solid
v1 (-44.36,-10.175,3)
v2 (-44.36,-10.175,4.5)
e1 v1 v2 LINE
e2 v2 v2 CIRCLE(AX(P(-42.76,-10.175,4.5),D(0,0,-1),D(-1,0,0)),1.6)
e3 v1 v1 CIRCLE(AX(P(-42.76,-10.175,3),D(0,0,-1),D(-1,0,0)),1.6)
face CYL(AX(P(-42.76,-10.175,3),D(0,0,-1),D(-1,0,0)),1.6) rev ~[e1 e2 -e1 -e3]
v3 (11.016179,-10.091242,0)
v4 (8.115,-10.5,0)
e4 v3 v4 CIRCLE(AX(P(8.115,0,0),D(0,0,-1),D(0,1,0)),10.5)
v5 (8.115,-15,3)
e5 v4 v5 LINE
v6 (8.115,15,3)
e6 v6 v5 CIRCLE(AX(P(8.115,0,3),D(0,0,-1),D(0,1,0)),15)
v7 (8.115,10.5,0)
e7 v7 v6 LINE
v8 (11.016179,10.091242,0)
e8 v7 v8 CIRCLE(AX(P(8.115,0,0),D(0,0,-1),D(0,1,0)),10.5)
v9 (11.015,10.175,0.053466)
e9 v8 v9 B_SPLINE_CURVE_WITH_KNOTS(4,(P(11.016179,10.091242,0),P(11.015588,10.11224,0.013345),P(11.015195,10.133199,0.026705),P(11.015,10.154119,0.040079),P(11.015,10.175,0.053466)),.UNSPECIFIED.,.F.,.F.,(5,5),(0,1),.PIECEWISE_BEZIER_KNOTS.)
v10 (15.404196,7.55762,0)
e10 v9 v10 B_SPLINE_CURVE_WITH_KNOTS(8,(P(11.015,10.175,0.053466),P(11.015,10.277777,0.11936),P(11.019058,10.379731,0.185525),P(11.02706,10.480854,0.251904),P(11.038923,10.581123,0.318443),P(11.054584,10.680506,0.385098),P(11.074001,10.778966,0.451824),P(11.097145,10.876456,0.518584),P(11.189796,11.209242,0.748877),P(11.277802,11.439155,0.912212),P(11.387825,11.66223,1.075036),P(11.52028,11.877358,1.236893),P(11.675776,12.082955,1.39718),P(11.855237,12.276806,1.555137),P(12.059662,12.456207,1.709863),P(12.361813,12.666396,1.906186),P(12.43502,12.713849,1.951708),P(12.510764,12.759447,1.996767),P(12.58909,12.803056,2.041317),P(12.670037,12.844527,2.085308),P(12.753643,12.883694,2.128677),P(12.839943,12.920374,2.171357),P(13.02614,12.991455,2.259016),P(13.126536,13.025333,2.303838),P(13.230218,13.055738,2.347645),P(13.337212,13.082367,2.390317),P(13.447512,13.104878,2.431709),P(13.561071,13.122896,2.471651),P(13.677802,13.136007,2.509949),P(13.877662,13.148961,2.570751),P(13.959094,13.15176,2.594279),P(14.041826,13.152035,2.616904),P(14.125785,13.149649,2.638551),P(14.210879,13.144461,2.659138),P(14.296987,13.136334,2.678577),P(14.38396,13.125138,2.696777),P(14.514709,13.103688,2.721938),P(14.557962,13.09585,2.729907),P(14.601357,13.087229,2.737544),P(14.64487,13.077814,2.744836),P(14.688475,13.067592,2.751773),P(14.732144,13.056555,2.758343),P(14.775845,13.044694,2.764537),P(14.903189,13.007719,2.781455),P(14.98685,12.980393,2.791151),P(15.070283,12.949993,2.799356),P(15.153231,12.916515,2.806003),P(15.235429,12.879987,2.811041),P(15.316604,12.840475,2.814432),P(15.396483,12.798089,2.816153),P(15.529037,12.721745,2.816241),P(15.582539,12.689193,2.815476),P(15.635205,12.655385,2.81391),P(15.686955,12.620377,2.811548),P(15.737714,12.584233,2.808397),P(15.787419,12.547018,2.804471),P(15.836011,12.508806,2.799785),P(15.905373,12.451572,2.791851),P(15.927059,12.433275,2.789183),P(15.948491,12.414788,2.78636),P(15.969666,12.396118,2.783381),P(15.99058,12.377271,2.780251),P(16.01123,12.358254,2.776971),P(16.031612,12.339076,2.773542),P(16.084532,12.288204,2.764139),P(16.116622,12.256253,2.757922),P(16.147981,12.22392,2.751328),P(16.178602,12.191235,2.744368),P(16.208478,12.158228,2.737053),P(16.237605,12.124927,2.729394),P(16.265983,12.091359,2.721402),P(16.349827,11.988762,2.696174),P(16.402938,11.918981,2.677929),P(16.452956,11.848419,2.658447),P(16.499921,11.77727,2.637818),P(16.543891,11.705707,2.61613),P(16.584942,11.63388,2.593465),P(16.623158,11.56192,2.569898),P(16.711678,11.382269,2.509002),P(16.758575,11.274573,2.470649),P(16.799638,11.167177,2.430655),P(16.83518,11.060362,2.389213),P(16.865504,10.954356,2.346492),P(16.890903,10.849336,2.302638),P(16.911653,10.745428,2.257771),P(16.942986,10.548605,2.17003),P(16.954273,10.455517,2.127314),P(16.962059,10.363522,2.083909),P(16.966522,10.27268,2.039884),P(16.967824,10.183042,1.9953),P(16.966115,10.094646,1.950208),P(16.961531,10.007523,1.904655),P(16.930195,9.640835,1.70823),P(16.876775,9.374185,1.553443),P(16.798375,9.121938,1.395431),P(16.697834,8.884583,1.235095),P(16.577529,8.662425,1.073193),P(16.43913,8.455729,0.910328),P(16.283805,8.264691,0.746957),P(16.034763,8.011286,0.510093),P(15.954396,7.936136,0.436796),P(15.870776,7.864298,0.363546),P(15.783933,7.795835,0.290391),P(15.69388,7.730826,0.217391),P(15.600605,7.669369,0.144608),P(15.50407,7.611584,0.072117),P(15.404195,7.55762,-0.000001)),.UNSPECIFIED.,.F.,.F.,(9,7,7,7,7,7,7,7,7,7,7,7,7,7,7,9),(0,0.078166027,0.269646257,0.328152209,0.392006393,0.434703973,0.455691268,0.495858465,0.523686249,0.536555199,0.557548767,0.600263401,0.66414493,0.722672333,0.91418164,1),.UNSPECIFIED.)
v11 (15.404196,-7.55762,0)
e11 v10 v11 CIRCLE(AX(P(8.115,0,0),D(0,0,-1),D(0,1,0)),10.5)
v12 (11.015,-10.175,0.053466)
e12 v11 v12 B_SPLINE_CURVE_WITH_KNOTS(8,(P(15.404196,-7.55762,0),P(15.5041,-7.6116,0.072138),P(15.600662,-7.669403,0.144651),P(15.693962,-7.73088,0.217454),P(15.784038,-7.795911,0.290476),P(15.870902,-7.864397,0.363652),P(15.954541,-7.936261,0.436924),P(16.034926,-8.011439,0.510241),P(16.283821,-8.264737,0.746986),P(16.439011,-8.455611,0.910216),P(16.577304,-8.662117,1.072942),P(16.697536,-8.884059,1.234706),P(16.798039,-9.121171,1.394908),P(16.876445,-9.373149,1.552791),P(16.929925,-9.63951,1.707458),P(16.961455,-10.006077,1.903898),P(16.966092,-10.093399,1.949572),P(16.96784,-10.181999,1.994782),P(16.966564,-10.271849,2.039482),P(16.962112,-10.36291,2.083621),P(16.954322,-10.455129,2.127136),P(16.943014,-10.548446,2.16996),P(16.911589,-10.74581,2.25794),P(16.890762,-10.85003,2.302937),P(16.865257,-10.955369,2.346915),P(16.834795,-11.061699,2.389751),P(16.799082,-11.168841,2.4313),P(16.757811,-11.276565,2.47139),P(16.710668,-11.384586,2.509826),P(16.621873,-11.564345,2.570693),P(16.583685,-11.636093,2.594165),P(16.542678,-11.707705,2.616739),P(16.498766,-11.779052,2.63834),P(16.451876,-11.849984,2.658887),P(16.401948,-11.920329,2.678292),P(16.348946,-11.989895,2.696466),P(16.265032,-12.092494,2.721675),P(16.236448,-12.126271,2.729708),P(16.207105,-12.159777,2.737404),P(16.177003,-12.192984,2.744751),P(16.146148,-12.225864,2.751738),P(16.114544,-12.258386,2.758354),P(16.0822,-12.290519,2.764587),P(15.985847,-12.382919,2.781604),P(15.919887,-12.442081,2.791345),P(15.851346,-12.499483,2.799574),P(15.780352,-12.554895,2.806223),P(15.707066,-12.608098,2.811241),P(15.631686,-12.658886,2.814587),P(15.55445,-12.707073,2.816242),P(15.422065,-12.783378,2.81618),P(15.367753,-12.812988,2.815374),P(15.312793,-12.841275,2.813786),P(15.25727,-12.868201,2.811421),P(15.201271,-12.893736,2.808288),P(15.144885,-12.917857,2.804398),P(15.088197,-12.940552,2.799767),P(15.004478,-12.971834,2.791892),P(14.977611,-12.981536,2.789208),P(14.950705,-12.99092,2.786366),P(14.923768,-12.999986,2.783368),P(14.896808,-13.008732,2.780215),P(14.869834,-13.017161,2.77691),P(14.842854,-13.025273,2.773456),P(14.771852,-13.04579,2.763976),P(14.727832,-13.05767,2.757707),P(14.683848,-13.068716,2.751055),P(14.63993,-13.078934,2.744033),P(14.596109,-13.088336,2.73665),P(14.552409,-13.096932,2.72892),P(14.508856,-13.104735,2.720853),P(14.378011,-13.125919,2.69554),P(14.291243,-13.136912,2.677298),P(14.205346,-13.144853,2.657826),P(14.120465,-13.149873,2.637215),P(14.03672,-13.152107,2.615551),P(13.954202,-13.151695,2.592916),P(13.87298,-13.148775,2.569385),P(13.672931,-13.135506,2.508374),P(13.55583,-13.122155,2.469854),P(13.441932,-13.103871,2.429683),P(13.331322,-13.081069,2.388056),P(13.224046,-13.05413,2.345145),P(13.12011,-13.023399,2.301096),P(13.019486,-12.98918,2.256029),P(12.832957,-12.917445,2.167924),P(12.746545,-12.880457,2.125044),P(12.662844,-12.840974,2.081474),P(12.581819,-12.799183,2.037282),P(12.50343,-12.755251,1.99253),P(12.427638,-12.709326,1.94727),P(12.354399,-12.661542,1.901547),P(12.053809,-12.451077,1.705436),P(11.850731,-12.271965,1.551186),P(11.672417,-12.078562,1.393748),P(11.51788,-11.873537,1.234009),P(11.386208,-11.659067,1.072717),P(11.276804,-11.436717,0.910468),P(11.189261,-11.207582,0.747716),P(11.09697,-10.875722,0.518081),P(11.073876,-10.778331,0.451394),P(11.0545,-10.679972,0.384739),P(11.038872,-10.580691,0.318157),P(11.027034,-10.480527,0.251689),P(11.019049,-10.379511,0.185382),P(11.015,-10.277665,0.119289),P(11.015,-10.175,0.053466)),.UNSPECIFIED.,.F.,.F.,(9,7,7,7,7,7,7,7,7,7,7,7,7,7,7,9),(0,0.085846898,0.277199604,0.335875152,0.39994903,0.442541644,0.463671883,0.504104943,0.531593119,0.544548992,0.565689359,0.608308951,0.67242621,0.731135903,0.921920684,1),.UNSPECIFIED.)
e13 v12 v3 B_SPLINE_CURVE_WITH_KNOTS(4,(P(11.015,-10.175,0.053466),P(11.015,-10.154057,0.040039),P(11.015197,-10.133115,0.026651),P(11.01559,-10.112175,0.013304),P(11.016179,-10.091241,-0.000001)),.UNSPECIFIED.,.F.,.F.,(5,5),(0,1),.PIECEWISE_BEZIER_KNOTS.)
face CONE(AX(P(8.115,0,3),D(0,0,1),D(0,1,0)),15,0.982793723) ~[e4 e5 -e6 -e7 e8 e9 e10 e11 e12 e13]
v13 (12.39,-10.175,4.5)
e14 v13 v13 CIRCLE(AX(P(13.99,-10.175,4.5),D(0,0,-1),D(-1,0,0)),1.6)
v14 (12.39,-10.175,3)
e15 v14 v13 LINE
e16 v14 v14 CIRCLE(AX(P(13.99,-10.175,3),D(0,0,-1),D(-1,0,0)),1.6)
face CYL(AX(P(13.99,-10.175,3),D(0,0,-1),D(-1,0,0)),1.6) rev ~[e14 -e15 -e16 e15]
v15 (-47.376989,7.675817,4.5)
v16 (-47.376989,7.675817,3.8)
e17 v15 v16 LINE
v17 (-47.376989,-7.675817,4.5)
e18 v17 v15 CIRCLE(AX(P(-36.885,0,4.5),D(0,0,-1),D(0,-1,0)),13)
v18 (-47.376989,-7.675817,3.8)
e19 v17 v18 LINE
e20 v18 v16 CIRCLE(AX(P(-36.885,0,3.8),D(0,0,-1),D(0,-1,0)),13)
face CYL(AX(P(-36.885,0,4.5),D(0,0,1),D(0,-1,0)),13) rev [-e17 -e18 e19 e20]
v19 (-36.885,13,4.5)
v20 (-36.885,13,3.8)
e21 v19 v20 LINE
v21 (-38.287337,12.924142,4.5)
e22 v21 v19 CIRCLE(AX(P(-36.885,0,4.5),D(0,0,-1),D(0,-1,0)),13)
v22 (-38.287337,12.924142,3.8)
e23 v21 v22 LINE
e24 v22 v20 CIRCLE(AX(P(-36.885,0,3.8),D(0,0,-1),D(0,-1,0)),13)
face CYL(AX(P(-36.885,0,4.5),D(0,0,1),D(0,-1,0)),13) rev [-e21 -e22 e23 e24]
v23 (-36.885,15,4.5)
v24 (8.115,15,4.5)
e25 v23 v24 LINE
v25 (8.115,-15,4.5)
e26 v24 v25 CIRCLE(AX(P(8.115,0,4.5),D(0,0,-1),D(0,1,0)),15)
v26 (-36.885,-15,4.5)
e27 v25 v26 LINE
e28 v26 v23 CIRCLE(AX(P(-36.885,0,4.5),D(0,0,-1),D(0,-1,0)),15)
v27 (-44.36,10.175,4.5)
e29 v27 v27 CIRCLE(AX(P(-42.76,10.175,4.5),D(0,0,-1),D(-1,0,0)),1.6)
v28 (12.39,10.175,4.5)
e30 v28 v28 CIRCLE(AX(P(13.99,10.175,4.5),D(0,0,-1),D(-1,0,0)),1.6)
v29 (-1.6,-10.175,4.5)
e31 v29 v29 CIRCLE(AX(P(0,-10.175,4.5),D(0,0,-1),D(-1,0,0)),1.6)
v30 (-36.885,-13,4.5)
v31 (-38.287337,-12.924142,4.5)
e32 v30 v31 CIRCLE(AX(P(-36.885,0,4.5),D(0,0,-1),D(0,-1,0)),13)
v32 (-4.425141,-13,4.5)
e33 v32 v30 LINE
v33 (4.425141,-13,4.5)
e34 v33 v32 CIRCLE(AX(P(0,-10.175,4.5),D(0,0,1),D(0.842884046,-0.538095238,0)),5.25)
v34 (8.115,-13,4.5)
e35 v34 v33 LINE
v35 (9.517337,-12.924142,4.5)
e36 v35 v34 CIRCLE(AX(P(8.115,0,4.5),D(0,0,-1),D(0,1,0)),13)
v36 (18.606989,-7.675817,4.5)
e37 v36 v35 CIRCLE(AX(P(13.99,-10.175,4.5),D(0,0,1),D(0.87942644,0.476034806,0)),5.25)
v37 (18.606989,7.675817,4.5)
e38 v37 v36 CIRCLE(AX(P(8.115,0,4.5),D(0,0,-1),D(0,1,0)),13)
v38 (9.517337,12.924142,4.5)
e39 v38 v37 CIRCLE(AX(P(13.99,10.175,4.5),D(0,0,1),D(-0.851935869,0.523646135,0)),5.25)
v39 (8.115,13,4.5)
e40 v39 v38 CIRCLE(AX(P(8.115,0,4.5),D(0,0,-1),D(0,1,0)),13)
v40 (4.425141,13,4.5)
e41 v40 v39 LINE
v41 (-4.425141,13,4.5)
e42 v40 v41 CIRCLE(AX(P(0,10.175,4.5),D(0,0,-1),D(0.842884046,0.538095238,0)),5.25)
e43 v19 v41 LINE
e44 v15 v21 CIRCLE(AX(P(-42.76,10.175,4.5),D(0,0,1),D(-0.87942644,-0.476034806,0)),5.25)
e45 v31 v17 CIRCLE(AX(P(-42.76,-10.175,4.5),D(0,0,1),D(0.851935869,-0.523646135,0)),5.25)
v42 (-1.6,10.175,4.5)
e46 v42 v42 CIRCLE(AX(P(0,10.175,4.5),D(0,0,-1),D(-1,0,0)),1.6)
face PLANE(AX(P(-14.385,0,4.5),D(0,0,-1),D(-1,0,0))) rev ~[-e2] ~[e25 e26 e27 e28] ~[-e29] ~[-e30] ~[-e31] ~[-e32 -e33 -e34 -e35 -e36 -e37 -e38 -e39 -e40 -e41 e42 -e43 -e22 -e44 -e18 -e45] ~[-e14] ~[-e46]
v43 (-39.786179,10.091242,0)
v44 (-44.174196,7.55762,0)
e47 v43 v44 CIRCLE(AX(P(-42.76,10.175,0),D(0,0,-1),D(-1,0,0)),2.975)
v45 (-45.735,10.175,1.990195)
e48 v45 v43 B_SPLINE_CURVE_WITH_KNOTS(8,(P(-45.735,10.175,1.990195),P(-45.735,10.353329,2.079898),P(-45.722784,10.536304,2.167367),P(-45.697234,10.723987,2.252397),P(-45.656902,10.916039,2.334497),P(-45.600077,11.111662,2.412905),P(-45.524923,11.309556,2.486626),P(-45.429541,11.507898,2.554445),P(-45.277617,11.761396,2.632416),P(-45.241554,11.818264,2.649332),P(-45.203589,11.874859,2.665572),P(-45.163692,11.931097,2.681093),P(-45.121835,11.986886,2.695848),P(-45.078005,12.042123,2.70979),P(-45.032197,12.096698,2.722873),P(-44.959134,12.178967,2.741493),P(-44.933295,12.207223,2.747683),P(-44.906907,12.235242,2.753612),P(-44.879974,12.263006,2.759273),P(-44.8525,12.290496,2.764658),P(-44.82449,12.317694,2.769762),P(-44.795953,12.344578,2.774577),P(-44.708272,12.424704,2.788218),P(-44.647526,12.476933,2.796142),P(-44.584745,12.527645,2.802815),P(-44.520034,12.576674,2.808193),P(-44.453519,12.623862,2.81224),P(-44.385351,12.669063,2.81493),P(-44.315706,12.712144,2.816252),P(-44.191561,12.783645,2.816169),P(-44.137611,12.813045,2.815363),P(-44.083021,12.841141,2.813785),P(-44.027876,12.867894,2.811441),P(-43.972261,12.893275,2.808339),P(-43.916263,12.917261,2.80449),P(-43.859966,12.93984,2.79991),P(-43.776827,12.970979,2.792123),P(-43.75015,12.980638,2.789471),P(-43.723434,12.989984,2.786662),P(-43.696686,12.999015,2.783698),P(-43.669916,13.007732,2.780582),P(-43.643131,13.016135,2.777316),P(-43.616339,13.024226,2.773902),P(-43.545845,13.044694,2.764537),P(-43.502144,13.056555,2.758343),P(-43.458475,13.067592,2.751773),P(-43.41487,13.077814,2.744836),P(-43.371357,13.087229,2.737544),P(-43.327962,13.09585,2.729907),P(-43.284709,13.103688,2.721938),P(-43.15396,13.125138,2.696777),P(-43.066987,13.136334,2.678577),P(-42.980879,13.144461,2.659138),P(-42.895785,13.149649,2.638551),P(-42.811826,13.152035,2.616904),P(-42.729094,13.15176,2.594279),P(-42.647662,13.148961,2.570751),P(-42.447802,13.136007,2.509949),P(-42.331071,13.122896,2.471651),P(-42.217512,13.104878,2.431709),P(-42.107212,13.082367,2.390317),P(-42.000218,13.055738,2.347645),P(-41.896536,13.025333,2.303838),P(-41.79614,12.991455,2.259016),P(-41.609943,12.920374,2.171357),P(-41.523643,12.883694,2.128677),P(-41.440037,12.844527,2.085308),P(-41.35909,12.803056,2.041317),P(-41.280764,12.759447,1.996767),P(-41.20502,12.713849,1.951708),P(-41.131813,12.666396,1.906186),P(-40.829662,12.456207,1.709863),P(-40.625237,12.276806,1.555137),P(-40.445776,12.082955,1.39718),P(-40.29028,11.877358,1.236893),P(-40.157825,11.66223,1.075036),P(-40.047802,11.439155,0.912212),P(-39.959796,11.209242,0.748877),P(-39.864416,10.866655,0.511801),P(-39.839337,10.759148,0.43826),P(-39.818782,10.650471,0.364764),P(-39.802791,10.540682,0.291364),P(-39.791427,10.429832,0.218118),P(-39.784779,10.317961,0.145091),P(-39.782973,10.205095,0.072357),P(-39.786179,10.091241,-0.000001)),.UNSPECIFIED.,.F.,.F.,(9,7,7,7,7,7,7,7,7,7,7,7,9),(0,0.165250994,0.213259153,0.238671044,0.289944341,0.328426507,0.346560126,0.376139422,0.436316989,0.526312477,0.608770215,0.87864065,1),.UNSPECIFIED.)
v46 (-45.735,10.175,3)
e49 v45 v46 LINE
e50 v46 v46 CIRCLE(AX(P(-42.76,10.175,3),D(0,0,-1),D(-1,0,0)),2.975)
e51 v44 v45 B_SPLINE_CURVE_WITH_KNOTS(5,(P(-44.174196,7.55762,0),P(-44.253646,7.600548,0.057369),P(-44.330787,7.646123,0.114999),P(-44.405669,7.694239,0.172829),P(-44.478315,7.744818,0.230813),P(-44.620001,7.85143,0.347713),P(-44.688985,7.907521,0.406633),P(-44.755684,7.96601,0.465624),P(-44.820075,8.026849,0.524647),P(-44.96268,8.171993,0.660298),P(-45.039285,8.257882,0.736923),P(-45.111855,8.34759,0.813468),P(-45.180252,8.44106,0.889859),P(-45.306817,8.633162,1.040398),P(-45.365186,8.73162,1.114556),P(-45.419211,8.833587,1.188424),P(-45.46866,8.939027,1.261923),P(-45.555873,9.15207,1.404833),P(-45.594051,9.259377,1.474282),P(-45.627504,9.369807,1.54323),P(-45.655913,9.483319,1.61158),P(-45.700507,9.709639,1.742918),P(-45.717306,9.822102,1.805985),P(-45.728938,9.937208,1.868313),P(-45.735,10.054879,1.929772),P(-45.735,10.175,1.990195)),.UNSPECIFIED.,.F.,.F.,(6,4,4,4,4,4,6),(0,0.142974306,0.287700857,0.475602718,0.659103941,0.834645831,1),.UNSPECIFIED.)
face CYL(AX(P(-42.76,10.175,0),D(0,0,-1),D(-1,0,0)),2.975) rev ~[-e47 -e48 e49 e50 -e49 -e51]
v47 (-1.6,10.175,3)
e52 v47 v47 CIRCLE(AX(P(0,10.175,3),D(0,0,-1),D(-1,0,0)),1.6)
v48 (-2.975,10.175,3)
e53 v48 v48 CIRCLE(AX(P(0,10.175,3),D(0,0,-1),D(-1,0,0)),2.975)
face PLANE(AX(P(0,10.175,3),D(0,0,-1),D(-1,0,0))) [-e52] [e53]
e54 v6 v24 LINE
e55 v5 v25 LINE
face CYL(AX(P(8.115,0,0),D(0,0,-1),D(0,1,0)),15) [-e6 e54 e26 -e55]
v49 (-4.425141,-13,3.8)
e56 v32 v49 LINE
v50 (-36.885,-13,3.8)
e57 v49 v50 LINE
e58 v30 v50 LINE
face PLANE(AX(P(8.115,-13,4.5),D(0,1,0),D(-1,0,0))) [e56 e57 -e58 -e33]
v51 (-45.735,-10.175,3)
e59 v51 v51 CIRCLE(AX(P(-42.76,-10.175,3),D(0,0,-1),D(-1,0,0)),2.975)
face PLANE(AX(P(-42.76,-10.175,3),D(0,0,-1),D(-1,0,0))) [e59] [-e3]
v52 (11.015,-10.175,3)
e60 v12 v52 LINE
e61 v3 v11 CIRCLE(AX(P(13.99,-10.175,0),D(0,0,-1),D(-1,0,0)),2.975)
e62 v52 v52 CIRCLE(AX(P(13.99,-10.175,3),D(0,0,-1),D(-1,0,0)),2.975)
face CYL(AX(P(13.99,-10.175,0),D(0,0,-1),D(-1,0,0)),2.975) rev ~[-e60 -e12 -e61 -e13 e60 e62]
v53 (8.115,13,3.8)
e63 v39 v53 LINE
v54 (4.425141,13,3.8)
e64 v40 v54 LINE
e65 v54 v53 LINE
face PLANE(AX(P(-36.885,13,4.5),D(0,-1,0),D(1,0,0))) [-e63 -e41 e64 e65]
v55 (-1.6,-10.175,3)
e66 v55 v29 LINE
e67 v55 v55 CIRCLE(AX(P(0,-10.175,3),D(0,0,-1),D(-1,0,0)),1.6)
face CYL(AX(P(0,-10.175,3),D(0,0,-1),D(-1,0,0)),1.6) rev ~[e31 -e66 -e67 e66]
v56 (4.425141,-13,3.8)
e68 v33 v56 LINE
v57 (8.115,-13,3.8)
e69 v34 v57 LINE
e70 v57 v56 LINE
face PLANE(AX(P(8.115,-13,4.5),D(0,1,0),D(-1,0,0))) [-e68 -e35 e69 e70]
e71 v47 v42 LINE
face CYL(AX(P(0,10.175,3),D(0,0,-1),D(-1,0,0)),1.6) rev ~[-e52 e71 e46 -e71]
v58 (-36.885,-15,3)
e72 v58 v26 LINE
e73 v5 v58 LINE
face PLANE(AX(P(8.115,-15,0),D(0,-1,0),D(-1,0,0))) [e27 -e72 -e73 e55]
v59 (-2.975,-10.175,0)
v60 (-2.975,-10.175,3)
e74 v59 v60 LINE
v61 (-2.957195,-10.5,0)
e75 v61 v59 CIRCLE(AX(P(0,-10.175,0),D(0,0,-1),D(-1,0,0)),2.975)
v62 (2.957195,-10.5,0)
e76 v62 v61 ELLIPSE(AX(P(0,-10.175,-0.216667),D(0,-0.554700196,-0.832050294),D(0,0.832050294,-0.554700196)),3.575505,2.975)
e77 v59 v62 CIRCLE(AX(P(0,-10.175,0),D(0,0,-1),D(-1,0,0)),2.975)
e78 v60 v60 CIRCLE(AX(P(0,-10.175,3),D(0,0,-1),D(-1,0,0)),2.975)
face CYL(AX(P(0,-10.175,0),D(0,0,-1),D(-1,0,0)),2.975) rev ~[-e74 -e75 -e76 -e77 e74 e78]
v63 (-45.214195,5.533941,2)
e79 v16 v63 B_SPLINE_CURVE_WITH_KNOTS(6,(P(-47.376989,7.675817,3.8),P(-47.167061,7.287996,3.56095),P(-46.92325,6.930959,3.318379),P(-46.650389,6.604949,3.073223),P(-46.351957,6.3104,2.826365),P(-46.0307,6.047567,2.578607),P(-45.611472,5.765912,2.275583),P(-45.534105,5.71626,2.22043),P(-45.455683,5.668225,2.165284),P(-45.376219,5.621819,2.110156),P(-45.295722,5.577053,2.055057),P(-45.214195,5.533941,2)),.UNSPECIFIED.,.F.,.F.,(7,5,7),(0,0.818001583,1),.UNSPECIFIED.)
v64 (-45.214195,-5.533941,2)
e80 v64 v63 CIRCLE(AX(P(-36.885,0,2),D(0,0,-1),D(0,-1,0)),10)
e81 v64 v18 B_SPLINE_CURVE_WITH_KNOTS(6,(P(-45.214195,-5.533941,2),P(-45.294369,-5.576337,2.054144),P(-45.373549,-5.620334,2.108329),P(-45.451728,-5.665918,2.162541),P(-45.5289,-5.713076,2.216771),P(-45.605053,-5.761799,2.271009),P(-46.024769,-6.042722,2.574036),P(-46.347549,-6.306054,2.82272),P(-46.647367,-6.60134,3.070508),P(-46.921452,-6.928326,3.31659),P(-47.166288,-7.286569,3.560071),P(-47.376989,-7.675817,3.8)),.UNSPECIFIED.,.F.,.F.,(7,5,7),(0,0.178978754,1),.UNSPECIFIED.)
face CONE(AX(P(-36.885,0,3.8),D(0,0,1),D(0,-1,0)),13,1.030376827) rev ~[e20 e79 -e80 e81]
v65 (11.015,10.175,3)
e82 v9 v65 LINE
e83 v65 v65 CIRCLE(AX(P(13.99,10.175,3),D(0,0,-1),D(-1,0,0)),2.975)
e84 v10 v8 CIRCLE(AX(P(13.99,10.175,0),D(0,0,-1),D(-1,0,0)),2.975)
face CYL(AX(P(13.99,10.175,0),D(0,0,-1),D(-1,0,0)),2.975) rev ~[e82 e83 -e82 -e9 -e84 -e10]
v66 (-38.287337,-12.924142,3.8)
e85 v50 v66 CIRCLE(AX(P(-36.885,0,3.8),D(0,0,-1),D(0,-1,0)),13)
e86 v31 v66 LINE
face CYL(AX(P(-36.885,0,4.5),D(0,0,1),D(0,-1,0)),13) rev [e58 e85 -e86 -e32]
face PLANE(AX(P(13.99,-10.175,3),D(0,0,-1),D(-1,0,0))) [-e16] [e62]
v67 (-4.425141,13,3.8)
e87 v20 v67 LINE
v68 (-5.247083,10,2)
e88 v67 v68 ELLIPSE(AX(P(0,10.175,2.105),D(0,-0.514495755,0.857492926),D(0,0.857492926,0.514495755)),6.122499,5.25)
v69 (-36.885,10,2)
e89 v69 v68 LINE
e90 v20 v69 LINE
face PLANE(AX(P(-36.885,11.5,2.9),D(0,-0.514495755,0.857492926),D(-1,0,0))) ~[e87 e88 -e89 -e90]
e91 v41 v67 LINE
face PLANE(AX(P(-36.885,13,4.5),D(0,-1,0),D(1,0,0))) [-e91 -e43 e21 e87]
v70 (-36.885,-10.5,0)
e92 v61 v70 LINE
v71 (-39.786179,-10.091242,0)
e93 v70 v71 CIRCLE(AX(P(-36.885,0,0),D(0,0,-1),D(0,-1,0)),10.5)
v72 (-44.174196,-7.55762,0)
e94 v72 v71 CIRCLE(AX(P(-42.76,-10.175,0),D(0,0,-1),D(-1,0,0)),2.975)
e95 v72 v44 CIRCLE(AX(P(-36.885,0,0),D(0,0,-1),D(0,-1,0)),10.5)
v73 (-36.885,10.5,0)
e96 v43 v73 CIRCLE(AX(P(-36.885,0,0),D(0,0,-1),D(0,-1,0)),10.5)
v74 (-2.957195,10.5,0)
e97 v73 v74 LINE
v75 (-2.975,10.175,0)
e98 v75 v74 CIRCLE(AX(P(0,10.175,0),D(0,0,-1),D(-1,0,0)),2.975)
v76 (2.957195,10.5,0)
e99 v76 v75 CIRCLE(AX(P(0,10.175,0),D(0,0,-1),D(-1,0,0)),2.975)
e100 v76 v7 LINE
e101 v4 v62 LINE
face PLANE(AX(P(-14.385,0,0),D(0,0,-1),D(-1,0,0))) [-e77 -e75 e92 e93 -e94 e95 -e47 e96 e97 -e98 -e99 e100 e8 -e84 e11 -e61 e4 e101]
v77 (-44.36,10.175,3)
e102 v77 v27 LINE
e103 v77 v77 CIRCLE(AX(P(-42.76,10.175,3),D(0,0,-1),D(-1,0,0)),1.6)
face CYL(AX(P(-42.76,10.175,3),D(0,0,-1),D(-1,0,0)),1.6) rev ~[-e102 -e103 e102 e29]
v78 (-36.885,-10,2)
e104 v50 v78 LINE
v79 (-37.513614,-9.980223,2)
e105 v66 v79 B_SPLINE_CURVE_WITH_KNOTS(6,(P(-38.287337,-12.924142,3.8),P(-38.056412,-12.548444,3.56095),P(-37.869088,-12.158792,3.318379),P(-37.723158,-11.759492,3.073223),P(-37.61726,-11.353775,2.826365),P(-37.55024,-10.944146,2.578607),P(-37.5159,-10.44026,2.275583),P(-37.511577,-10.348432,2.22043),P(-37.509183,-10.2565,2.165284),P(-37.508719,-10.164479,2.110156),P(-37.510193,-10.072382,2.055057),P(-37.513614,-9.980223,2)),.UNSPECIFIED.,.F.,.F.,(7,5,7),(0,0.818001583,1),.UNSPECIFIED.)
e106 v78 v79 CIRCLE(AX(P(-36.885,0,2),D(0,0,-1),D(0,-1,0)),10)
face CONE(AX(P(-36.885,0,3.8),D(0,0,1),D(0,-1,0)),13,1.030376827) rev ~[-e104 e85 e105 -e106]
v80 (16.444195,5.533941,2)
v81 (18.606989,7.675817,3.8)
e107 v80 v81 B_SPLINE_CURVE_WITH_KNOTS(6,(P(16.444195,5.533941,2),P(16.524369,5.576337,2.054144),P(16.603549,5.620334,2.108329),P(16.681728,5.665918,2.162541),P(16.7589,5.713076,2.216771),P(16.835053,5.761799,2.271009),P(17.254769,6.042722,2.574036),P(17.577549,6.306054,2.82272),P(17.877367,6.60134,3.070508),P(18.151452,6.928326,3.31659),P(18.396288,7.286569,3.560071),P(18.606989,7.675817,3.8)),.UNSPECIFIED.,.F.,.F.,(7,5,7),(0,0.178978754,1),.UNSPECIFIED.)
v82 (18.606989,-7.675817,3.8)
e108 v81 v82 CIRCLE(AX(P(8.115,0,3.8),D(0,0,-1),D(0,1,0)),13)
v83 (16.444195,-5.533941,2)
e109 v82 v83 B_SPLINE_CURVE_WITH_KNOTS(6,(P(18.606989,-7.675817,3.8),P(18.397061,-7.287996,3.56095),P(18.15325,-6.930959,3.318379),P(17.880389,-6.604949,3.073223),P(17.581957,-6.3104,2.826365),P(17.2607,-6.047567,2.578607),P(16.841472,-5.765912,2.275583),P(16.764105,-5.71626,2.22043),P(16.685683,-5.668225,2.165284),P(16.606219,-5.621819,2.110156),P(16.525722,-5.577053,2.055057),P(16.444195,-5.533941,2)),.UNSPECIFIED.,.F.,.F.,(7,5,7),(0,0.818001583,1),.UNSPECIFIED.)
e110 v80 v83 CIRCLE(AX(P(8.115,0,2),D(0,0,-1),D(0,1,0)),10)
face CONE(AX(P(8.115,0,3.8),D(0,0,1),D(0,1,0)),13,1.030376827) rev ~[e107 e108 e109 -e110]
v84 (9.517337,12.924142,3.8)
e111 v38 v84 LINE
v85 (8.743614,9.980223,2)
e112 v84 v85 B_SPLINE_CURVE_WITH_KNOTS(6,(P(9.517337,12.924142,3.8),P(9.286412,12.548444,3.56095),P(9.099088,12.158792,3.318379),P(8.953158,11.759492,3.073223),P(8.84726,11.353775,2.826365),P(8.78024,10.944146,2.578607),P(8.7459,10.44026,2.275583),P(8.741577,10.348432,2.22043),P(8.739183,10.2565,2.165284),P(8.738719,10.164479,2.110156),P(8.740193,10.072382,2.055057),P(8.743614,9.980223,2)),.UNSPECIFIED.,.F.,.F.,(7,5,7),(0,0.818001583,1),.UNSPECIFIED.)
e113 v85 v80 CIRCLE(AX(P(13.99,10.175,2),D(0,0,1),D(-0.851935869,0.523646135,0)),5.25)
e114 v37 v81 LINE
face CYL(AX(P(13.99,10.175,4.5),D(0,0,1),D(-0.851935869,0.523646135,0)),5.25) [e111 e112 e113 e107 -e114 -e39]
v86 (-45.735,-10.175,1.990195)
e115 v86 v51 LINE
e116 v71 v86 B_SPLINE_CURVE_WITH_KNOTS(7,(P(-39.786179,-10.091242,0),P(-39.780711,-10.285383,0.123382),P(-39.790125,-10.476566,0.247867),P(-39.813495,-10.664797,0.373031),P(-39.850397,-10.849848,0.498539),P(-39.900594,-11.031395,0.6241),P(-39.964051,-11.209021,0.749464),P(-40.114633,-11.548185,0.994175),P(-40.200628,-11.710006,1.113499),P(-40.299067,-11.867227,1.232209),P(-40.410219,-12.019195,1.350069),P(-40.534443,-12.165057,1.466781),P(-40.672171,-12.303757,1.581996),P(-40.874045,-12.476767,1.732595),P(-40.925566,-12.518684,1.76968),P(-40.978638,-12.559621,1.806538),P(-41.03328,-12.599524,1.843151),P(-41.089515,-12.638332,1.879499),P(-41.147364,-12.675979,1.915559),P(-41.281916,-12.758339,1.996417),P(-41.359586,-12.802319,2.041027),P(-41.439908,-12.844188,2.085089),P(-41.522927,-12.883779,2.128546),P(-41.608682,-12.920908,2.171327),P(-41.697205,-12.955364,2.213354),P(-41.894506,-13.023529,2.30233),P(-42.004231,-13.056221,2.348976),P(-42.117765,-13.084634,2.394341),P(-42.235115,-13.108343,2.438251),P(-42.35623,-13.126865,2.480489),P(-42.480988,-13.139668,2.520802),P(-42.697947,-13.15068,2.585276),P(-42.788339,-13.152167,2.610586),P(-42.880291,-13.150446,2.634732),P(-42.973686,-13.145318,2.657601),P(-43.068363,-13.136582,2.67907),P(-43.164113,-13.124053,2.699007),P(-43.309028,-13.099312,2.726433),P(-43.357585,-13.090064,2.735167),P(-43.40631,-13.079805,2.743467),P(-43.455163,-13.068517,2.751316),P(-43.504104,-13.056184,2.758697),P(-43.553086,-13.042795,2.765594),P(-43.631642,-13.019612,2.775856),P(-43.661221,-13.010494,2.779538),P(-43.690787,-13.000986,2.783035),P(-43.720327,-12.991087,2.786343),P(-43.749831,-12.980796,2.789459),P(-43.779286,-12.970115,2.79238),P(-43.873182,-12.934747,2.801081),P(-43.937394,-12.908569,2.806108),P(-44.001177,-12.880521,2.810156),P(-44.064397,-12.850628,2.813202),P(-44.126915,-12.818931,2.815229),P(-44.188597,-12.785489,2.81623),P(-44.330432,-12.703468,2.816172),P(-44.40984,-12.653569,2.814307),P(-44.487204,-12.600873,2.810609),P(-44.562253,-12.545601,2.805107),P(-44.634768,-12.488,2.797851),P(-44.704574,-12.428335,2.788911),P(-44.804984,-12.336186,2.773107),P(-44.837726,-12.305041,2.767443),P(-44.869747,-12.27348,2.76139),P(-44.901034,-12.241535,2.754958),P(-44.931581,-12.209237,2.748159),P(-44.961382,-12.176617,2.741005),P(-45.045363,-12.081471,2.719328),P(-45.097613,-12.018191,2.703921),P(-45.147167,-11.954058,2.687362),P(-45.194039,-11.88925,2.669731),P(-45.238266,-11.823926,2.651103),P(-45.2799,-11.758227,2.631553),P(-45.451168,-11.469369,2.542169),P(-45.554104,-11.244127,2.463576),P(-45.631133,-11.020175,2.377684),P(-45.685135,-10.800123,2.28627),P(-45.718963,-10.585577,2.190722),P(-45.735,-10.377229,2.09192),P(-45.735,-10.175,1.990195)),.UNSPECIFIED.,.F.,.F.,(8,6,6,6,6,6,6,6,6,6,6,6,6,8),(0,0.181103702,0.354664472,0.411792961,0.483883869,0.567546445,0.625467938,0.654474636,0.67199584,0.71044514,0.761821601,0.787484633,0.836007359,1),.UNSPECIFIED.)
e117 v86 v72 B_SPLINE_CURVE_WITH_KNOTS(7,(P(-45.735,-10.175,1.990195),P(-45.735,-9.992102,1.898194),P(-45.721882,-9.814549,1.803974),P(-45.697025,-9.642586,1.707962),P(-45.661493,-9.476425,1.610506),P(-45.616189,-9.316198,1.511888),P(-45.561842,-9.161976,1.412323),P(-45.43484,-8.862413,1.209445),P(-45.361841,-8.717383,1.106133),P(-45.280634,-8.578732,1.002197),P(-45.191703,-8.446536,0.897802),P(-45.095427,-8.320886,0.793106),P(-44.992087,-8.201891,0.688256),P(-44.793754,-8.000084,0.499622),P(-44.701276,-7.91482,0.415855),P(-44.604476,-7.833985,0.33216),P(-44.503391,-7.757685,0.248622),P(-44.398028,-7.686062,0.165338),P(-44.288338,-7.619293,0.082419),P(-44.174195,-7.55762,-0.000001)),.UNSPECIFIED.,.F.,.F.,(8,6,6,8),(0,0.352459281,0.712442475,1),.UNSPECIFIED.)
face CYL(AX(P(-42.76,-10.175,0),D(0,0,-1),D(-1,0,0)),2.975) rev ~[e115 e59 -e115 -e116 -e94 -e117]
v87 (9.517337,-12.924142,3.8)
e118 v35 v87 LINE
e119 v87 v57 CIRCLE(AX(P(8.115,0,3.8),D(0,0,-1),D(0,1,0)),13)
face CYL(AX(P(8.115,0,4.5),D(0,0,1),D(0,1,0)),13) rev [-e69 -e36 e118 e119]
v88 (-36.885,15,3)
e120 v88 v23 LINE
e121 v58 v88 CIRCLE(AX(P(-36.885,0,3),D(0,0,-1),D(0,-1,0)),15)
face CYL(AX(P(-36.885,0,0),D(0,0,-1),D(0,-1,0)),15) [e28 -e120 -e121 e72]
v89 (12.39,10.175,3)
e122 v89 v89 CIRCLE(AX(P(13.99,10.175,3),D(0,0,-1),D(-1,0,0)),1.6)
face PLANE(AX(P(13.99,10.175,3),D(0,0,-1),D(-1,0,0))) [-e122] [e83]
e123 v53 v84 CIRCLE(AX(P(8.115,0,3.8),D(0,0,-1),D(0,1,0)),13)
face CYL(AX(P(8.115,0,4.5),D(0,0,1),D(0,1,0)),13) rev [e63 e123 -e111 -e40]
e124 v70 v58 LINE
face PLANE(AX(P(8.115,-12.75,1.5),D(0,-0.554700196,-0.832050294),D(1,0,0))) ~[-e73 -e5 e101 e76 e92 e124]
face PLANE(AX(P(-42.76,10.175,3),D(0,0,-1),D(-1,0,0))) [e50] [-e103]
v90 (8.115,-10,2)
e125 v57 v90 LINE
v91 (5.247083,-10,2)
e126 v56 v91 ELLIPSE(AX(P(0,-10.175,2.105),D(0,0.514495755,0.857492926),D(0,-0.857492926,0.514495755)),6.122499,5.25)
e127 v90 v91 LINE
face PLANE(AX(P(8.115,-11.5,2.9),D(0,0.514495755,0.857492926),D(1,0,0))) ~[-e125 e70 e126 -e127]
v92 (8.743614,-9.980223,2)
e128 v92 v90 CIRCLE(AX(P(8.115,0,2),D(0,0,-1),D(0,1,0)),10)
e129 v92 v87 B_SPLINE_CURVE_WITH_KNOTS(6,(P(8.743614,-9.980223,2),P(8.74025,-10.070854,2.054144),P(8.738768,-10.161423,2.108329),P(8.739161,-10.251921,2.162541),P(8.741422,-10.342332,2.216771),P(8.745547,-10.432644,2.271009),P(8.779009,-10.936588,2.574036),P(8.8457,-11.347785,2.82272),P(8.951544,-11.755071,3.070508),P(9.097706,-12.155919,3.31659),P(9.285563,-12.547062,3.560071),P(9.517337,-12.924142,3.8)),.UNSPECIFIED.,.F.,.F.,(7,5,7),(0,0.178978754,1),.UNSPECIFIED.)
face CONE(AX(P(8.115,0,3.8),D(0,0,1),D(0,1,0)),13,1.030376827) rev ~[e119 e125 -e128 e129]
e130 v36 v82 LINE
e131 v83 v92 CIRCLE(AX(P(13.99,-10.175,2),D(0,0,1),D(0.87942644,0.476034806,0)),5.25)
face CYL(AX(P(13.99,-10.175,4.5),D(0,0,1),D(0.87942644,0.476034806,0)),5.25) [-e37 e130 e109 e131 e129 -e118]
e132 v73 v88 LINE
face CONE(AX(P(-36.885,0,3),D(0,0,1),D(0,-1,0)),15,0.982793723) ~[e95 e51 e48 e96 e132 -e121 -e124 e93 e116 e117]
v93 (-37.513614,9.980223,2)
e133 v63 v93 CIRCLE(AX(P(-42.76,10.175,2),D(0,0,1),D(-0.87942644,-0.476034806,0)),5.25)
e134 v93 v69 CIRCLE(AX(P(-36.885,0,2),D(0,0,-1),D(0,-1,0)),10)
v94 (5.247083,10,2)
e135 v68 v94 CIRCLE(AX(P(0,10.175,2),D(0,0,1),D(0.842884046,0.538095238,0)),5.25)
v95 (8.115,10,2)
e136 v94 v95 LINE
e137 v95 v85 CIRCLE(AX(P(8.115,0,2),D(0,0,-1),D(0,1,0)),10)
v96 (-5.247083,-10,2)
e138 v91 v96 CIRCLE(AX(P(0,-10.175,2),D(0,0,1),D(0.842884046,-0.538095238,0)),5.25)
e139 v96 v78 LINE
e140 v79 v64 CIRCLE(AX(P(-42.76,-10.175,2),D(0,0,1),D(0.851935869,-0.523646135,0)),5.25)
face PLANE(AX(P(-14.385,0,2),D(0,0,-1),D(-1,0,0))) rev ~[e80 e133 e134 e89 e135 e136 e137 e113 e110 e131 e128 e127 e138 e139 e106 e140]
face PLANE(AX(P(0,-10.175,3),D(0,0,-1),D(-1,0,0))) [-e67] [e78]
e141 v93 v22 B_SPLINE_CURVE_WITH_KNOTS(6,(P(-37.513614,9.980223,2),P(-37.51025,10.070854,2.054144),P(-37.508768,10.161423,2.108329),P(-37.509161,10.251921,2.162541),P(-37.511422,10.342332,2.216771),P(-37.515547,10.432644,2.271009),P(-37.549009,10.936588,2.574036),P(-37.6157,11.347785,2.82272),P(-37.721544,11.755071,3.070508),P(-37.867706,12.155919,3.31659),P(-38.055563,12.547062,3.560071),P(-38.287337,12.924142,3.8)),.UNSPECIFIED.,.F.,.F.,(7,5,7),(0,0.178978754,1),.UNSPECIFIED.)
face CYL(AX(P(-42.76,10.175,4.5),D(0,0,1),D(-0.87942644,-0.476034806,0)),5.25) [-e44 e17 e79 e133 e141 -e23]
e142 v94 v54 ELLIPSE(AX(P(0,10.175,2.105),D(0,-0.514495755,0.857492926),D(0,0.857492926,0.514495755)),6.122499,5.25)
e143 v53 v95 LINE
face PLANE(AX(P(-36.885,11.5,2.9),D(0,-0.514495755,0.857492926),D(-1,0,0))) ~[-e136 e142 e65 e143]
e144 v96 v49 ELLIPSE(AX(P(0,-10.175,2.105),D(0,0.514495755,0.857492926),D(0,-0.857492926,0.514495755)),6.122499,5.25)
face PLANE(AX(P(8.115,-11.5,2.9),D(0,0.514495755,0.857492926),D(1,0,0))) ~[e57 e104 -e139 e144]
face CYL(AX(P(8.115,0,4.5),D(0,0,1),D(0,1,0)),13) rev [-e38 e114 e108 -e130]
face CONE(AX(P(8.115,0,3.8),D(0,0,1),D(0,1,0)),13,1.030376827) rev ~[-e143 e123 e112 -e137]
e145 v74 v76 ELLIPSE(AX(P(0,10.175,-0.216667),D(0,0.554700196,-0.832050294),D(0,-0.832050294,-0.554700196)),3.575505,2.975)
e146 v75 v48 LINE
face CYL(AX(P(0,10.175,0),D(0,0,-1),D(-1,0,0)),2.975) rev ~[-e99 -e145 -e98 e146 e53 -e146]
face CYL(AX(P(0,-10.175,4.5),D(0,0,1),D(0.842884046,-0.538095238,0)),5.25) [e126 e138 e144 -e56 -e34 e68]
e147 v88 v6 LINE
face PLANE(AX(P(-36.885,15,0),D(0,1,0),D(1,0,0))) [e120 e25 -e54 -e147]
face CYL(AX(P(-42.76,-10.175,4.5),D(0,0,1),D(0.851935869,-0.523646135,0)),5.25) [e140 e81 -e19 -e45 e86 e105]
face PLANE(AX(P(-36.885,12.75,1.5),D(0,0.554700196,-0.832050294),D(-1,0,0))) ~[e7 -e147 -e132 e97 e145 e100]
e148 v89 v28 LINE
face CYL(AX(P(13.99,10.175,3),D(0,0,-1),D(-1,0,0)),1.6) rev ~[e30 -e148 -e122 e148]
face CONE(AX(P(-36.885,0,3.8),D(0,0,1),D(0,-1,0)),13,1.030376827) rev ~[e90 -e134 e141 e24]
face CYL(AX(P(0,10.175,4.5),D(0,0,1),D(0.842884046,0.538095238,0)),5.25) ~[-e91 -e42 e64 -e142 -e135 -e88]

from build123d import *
from OCP.BRepFilletAPI import BRepFilletAPI_MakeChamfer

# Parameters (mm, degrees)
BOSS_EXTRUDE1_DEPTH = 4.5
CUT_EXTRUDE1_DEPTH  = 2.5
CHAMFER1_SIZE       = 1.8
CHAMFER1_SIZE2      = 3
CHAMFER2_SIZE       = 4.5
CHAMFER2_SIZE2      = 3
BOSS_EXTRUDE2_REACH = 56.197
SKETCH3_R           = 2.975
CUT_EXTRUDE2_DEPTH  = 3
CUT_EXTRUDE3_REACH  = 56.093
SKETCH5_R           = 1.6


with BuildPart() as part:
    # Sketch1 → Boss-Extrude1 (new body)
    with BuildSketch(Plane.XY):
        with BuildLine():
            Line((-36.885, 15), (8.115, 15))
            ThreePointArc((8.115, 15), (23.115, 0), (8.115, -15))
            Line((8.115, -15), (-36.885, -15))
            ThreePointArc((-36.885, -15), (-51.885, 0), (-36.885, 15))
        make_face()
    extrude(amount=BOSS_EXTRUDE1_DEPTH)

    # Sketch2 → Cut-Extrude1 (cut)
    with BuildSketch(Plane.XY.offset(4.5)):
        with BuildLine():
            Line((-36.885, 13), (8.115, 13))
            ThreePointArc((8.115, 13), (21.115, 0), (8.115, -13))
            Line((8.115, -13), (-36.885, -13))
            ThreePointArc((-36.885, -13), (-49.885, 0), (-36.885, 13))
        make_face()
    extrude(amount=-CUT_EXTRUDE1_DEPTH, mode=Mode.SUBTRACT)

    # Chamfer1: one chamfer whose edges measure the first distance from different faces: ONE call of the kernel's chamfer builder (chamfer() names one face for all edges)
    chamfer1_edges_1 = [part.edges().sort_by_distance(p)[0] for p in [
        (-49.885, 0, 2),
    ]]
    chamfer1_side_1 = [part.faces().sort_by_distance(p)[0] for p in [
        (-49.885, 0, 3.25),
    ]]
    chamfer1_edges_2 = [part.edges().sort_by_distance(p)[0] for p in [
        (-14.385, 13, 2),
    ]]
    chamfer1_side_2 = [part.faces().sort_by_distance(p)[0] for p in [
        (-14.385, 13, 3.25),
    ]]
    chamfer1_edges_3 = [part.edges().sort_by_distance(p)[0] for p in [
        (21.115, 0, 2),
    ]]
    chamfer1_side_3 = [part.faces().sort_by_distance(p)[0] for p in [
        (21.115, 0, 3.25),
    ]]
    chamfer1_edges_4 = [part.edges().sort_by_distance(p)[0] for p in [
        (-14.385, -13, 2),
    ]]
    chamfer1_side_4 = [part.faces().sort_by_distance(p)[0] for p in [
        (-14.385, -13, 3.25),
    ]]
    chamfer1 = BRepFilletAPI_MakeChamfer(part.part.solid().wrapped)
    for e in chamfer1_edges_1:
        chamfer1.Add(CHAMFER1_SIZE, CHAMFER1_SIZE2, e.wrapped, chamfer1_side_1[0].wrapped)  # the first distance lies on this face
    for e in chamfer1_edges_2:
        chamfer1.Add(CHAMFER1_SIZE, CHAMFER1_SIZE2, e.wrapped, chamfer1_side_2[0].wrapped)  # the first distance lies on this face
    for e in chamfer1_edges_3:
        chamfer1.Add(CHAMFER1_SIZE, CHAMFER1_SIZE2, e.wrapped, chamfer1_side_3[0].wrapped)  # the first distance lies on this face
    for e in chamfer1_edges_4:
        chamfer1.Add(CHAMFER1_SIZE, CHAMFER1_SIZE2, e.wrapped, chamfer1_side_4[0].wrapped)  # the first distance lies on this face
    add(Compound.cast(chamfer1.Shape()), mode=Mode.REPLACE)

    # Chamfer2
    chamfer2_edges = [part.edges().sort_by_distance(p)[0] for p in [
        (-14.385, 15, 0),
        (23.115, 0, 0),
        (-14.385, -15, 0),
        (-51.885, 0, 0),
    ]]
    chamfer2_side = [part.faces().sort_by_distance(p)[0] for p in [
        (-14.385, 0, 0),
    ]]
    chamfer(chamfer2_edges, length=CHAMFER2_SIZE, length2=CHAMFER2_SIZE2, reference=chamfer2_side[0])

    # Sketch4 → Boss-Extrude2 (add, up to next)
    with BuildSketch(Plane.XY.offset(4.5), mode=Mode.PRIVATE) as boss_extrude2_sk1:
        with BuildLine():
            Line((-4.425141241, 13), (4.425141241, 13))
            ThreePointArc((4.425141241, 13), (0, 4.925), (-4.425141241, 13))
        make_face()
    boss_extrude2_tool1 = extrude(boss_extrude2_sk1.sketch, amount=-BOSS_EXTRUDE2_REACH, mode=Mode.PRIVATE) - part.part
    # Sketch4 → Boss-Extrude2 (add, up to next)
    with BuildSketch(Plane.XY.offset(4.5), mode=Mode.PRIVATE) as boss_extrude2_sk2:
        with BuildLine():
            Line((-4.425141241, -13), (4.425141241, -13))
            ThreePointArc((4.425141241, -13), (0, -4.925), (-4.425141241, -13))
        make_face()
    boss_extrude2_tool2 = extrude(boss_extrude2_sk2.sketch, amount=-BOSS_EXTRUDE2_REACH, mode=Mode.PRIVATE) - part.part
    # Sketch4 → Boss-Extrude2 (add, up to next)
    with BuildSketch(Plane.XY.offset(4.5), mode=Mode.PRIVATE) as boss_extrude2_sk3:
        with BuildLine():
            ThreePointArc((-47.376988812, 7.675817271), (-40.134845505, 5.628455832), (-38.287336686, 12.924142208))
            ThreePointArc((-38.287336686, 12.924142208), (-43.38538256, 11.25810937), (-47.376988812, 7.675817271))
        make_face()
    boss_extrude2_tool3 = extrude(boss_extrude2_sk3.sketch, amount=-BOSS_EXTRUDE2_REACH, mode=Mode.PRIVATE) - part.part
    # Sketch4 → Boss-Extrude2 (add, up to next)
    with BuildSketch(Plane.XY.offset(4.5), mode=Mode.PRIVATE) as boss_extrude2_sk4:
        with BuildLine():
            ThreePointArc((9.517336686, 12.924142208), (11.364845505, 5.628455832), (18.606988812, 7.675817271))
            ThreePointArc((18.606988812, 7.675817271), (14.61538256, 11.25810937), (9.517336686, 12.924142208))
        make_face()
    boss_extrude2_tool4 = extrude(boss_extrude2_sk4.sketch, amount=-BOSS_EXTRUDE2_REACH, mode=Mode.PRIVATE) - part.part
    # Sketch4 → Boss-Extrude2 (add, up to next)
    with BuildSketch(Plane.XY.offset(4.5), mode=Mode.PRIVATE) as boss_extrude2_sk5:
        with BuildLine():
            ThreePointArc((18.606988812, -7.675817271), (11.364845505, -5.628455832), (9.517336686, -12.924142208))
            ThreePointArc((9.517336686, -12.924142208), (14.61538256, -11.25810937), (18.606988812, -7.675817271))
        make_face()
    boss_extrude2_tool5 = extrude(boss_extrude2_sk5.sketch, amount=-BOSS_EXTRUDE2_REACH, mode=Mode.PRIVATE) - part.part
    # Sketch4 → Boss-Extrude2 (add, up to next)
    with BuildSketch(Plane.XY.offset(4.5), mode=Mode.PRIVATE) as boss_extrude2_sk6:
        with BuildLine():
            ThreePointArc((-38.287336686, -12.924142208), (-40.134845505, -5.628455832), (-47.376988812, -7.675817271))
            ThreePointArc((-47.376988812, -7.675817271), (-43.38538256, -11.25810937), (-38.287336686, -12.924142208))
        make_face()
    boss_extrude2_tool6 = extrude(boss_extrude2_sk6.sketch, amount=-BOSS_EXTRUDE2_REACH, mode=Mode.PRIVATE) - part.part
    add(boss_extrude2_tool1.solids().sort_by_distance((0, 9.366558, 4.5))[0])
    add(boss_extrude2_tool2.solids().sort_by_distance((0, -9.366558, 4.5))[0])
    add(boss_extrude2_tool3.solids().sort_by_distance((-41.888013, 8.664793, 4.5))[0])
    add(boss_extrude2_tool4.solids().sort_by_distance((13.118013, 8.664793, 4.5))[0])
    add(boss_extrude2_tool5.solids().sort_by_distance((13.118013, -8.664793, 4.5))[0])
    add(boss_extrude2_tool6.solids().sort_by_distance((-41.888013, -8.664793, 4.5))[0])

    # Sketch3 → Cut-Extrude2 (cut)
    with BuildSketch(Plane(origin=(0, 0, 0), x_dir=(-1, 0, 0), z_dir=(0, 0, -1))):
        with Locations((-13.99, 10.175)):
            Circle(SKETCH3_R)
        with Locations((0, 10.175)):
            Circle(SKETCH3_R)
        with Locations((42.76, 10.175)):
            Circle(SKETCH3_R)
        with Locations((42.76, -10.175)):
            Circle(SKETCH3_R)
        with Locations((0, -10.175)):
            Circle(SKETCH3_R)
        with Locations((-13.99, -10.175)):
            Circle(SKETCH3_R)
    extrude(amount=-CUT_EXTRUDE2_DEPTH, mode=Mode.SUBTRACT)

    # Sketch5 → Cut-Extrude3 (cut, up to next)
    with BuildSketch(Plane(origin=(0, 0, 3), x_dir=(-1, 0, 0), z_dir=(0, 0, -1)), mode=Mode.PRIVATE) as cut_extrude3_sk1:
        with Locations((-13.99, 10.175)):
            Circle(SKETCH5_R)
    cut_extrude3_tool1 = extrude(cut_extrude3_sk1.sketch, amount=-CUT_EXTRUDE3_REACH, mode=Mode.PRIVATE) & part.part
    # Sketch5 → Cut-Extrude3 (cut, up to next)
    with BuildSketch(Plane(origin=(0, 0, 3), x_dir=(-1, 0, 0), z_dir=(0, 0, -1)), mode=Mode.PRIVATE) as cut_extrude3_sk2:
        with Locations((0, 10.175)):
            Circle(SKETCH5_R)
    cut_extrude3_tool2 = extrude(cut_extrude3_sk2.sketch, amount=-CUT_EXTRUDE3_REACH, mode=Mode.PRIVATE) & part.part
    # Sketch5 → Cut-Extrude3 (cut, up to next)
    with BuildSketch(Plane(origin=(0, 0, 3), x_dir=(-1, 0, 0), z_dir=(0, 0, -1)), mode=Mode.PRIVATE) as cut_extrude3_sk3:
        with Locations((42.76, 10.175)):
            Circle(SKETCH5_R)
    cut_extrude3_tool3 = extrude(cut_extrude3_sk3.sketch, amount=-CUT_EXTRUDE3_REACH, mode=Mode.PRIVATE) & part.part
    # Sketch5 → Cut-Extrude3 (cut, up to next)
    with BuildSketch(Plane(origin=(0, 0, 3), x_dir=(-1, 0, 0), z_dir=(0, 0, -1)), mode=Mode.PRIVATE) as cut_extrude3_sk4:
        with Locations((42.76, -10.175)):
            Circle(SKETCH5_R)
    cut_extrude3_tool4 = extrude(cut_extrude3_sk4.sketch, amount=-CUT_EXTRUDE3_REACH, mode=Mode.PRIVATE) & part.part
    # Sketch5 → Cut-Extrude3 (cut, up to next)
    with BuildSketch(Plane(origin=(0, 0, 3), x_dir=(-1, 0, 0), z_dir=(0, 0, -1)), mode=Mode.PRIVATE) as cut_extrude3_sk5:
        with Locations((0, -10.175)):
            Circle(SKETCH5_R)
    cut_extrude3_tool5 = extrude(cut_extrude3_sk5.sketch, amount=-CUT_EXTRUDE3_REACH, mode=Mode.PRIVATE) & part.part
    # Sketch5 → Cut-Extrude3 (cut, up to next)
    with BuildSketch(Plane(origin=(0, 0, 3), x_dir=(-1, 0, 0), z_dir=(0, 0, -1)), mode=Mode.PRIVATE) as cut_extrude3_sk6:
        with Locations((-13.99, -10.175)):
            Circle(SKETCH5_R)
    cut_extrude3_tool6 = extrude(cut_extrude3_sk6.sketch, amount=-CUT_EXTRUDE3_REACH, mode=Mode.PRIVATE) & part.part
    add(cut_extrude3_tool1.solids().sort_by_distance((13.99, 10.175, 3))[0], mode=Mode.SUBTRACT)
    add(cut_extrude3_tool2.solids().sort_by_distance((0, 10.175, 3))[0], mode=Mode.SUBTRACT)
    add(cut_extrude3_tool3.solids().sort_by_distance((-42.76, 10.175, 3))[0], mode=Mode.SUBTRACT)
    add(cut_extrude3_tool4.solids().sort_by_distance((-42.76, -10.175, 3))[0], mode=Mode.SUBTRACT)
    add(cut_extrude3_tool5.solids().sort_by_distance((0, -10.175, 3))[0], mode=Mode.SUBTRACT)
    add(cut_extrude3_tool6.solids().sort_by_distance((13.99, -10.175, 3))[0], mode=Mode.SUBTRACT)


solid = part.part
